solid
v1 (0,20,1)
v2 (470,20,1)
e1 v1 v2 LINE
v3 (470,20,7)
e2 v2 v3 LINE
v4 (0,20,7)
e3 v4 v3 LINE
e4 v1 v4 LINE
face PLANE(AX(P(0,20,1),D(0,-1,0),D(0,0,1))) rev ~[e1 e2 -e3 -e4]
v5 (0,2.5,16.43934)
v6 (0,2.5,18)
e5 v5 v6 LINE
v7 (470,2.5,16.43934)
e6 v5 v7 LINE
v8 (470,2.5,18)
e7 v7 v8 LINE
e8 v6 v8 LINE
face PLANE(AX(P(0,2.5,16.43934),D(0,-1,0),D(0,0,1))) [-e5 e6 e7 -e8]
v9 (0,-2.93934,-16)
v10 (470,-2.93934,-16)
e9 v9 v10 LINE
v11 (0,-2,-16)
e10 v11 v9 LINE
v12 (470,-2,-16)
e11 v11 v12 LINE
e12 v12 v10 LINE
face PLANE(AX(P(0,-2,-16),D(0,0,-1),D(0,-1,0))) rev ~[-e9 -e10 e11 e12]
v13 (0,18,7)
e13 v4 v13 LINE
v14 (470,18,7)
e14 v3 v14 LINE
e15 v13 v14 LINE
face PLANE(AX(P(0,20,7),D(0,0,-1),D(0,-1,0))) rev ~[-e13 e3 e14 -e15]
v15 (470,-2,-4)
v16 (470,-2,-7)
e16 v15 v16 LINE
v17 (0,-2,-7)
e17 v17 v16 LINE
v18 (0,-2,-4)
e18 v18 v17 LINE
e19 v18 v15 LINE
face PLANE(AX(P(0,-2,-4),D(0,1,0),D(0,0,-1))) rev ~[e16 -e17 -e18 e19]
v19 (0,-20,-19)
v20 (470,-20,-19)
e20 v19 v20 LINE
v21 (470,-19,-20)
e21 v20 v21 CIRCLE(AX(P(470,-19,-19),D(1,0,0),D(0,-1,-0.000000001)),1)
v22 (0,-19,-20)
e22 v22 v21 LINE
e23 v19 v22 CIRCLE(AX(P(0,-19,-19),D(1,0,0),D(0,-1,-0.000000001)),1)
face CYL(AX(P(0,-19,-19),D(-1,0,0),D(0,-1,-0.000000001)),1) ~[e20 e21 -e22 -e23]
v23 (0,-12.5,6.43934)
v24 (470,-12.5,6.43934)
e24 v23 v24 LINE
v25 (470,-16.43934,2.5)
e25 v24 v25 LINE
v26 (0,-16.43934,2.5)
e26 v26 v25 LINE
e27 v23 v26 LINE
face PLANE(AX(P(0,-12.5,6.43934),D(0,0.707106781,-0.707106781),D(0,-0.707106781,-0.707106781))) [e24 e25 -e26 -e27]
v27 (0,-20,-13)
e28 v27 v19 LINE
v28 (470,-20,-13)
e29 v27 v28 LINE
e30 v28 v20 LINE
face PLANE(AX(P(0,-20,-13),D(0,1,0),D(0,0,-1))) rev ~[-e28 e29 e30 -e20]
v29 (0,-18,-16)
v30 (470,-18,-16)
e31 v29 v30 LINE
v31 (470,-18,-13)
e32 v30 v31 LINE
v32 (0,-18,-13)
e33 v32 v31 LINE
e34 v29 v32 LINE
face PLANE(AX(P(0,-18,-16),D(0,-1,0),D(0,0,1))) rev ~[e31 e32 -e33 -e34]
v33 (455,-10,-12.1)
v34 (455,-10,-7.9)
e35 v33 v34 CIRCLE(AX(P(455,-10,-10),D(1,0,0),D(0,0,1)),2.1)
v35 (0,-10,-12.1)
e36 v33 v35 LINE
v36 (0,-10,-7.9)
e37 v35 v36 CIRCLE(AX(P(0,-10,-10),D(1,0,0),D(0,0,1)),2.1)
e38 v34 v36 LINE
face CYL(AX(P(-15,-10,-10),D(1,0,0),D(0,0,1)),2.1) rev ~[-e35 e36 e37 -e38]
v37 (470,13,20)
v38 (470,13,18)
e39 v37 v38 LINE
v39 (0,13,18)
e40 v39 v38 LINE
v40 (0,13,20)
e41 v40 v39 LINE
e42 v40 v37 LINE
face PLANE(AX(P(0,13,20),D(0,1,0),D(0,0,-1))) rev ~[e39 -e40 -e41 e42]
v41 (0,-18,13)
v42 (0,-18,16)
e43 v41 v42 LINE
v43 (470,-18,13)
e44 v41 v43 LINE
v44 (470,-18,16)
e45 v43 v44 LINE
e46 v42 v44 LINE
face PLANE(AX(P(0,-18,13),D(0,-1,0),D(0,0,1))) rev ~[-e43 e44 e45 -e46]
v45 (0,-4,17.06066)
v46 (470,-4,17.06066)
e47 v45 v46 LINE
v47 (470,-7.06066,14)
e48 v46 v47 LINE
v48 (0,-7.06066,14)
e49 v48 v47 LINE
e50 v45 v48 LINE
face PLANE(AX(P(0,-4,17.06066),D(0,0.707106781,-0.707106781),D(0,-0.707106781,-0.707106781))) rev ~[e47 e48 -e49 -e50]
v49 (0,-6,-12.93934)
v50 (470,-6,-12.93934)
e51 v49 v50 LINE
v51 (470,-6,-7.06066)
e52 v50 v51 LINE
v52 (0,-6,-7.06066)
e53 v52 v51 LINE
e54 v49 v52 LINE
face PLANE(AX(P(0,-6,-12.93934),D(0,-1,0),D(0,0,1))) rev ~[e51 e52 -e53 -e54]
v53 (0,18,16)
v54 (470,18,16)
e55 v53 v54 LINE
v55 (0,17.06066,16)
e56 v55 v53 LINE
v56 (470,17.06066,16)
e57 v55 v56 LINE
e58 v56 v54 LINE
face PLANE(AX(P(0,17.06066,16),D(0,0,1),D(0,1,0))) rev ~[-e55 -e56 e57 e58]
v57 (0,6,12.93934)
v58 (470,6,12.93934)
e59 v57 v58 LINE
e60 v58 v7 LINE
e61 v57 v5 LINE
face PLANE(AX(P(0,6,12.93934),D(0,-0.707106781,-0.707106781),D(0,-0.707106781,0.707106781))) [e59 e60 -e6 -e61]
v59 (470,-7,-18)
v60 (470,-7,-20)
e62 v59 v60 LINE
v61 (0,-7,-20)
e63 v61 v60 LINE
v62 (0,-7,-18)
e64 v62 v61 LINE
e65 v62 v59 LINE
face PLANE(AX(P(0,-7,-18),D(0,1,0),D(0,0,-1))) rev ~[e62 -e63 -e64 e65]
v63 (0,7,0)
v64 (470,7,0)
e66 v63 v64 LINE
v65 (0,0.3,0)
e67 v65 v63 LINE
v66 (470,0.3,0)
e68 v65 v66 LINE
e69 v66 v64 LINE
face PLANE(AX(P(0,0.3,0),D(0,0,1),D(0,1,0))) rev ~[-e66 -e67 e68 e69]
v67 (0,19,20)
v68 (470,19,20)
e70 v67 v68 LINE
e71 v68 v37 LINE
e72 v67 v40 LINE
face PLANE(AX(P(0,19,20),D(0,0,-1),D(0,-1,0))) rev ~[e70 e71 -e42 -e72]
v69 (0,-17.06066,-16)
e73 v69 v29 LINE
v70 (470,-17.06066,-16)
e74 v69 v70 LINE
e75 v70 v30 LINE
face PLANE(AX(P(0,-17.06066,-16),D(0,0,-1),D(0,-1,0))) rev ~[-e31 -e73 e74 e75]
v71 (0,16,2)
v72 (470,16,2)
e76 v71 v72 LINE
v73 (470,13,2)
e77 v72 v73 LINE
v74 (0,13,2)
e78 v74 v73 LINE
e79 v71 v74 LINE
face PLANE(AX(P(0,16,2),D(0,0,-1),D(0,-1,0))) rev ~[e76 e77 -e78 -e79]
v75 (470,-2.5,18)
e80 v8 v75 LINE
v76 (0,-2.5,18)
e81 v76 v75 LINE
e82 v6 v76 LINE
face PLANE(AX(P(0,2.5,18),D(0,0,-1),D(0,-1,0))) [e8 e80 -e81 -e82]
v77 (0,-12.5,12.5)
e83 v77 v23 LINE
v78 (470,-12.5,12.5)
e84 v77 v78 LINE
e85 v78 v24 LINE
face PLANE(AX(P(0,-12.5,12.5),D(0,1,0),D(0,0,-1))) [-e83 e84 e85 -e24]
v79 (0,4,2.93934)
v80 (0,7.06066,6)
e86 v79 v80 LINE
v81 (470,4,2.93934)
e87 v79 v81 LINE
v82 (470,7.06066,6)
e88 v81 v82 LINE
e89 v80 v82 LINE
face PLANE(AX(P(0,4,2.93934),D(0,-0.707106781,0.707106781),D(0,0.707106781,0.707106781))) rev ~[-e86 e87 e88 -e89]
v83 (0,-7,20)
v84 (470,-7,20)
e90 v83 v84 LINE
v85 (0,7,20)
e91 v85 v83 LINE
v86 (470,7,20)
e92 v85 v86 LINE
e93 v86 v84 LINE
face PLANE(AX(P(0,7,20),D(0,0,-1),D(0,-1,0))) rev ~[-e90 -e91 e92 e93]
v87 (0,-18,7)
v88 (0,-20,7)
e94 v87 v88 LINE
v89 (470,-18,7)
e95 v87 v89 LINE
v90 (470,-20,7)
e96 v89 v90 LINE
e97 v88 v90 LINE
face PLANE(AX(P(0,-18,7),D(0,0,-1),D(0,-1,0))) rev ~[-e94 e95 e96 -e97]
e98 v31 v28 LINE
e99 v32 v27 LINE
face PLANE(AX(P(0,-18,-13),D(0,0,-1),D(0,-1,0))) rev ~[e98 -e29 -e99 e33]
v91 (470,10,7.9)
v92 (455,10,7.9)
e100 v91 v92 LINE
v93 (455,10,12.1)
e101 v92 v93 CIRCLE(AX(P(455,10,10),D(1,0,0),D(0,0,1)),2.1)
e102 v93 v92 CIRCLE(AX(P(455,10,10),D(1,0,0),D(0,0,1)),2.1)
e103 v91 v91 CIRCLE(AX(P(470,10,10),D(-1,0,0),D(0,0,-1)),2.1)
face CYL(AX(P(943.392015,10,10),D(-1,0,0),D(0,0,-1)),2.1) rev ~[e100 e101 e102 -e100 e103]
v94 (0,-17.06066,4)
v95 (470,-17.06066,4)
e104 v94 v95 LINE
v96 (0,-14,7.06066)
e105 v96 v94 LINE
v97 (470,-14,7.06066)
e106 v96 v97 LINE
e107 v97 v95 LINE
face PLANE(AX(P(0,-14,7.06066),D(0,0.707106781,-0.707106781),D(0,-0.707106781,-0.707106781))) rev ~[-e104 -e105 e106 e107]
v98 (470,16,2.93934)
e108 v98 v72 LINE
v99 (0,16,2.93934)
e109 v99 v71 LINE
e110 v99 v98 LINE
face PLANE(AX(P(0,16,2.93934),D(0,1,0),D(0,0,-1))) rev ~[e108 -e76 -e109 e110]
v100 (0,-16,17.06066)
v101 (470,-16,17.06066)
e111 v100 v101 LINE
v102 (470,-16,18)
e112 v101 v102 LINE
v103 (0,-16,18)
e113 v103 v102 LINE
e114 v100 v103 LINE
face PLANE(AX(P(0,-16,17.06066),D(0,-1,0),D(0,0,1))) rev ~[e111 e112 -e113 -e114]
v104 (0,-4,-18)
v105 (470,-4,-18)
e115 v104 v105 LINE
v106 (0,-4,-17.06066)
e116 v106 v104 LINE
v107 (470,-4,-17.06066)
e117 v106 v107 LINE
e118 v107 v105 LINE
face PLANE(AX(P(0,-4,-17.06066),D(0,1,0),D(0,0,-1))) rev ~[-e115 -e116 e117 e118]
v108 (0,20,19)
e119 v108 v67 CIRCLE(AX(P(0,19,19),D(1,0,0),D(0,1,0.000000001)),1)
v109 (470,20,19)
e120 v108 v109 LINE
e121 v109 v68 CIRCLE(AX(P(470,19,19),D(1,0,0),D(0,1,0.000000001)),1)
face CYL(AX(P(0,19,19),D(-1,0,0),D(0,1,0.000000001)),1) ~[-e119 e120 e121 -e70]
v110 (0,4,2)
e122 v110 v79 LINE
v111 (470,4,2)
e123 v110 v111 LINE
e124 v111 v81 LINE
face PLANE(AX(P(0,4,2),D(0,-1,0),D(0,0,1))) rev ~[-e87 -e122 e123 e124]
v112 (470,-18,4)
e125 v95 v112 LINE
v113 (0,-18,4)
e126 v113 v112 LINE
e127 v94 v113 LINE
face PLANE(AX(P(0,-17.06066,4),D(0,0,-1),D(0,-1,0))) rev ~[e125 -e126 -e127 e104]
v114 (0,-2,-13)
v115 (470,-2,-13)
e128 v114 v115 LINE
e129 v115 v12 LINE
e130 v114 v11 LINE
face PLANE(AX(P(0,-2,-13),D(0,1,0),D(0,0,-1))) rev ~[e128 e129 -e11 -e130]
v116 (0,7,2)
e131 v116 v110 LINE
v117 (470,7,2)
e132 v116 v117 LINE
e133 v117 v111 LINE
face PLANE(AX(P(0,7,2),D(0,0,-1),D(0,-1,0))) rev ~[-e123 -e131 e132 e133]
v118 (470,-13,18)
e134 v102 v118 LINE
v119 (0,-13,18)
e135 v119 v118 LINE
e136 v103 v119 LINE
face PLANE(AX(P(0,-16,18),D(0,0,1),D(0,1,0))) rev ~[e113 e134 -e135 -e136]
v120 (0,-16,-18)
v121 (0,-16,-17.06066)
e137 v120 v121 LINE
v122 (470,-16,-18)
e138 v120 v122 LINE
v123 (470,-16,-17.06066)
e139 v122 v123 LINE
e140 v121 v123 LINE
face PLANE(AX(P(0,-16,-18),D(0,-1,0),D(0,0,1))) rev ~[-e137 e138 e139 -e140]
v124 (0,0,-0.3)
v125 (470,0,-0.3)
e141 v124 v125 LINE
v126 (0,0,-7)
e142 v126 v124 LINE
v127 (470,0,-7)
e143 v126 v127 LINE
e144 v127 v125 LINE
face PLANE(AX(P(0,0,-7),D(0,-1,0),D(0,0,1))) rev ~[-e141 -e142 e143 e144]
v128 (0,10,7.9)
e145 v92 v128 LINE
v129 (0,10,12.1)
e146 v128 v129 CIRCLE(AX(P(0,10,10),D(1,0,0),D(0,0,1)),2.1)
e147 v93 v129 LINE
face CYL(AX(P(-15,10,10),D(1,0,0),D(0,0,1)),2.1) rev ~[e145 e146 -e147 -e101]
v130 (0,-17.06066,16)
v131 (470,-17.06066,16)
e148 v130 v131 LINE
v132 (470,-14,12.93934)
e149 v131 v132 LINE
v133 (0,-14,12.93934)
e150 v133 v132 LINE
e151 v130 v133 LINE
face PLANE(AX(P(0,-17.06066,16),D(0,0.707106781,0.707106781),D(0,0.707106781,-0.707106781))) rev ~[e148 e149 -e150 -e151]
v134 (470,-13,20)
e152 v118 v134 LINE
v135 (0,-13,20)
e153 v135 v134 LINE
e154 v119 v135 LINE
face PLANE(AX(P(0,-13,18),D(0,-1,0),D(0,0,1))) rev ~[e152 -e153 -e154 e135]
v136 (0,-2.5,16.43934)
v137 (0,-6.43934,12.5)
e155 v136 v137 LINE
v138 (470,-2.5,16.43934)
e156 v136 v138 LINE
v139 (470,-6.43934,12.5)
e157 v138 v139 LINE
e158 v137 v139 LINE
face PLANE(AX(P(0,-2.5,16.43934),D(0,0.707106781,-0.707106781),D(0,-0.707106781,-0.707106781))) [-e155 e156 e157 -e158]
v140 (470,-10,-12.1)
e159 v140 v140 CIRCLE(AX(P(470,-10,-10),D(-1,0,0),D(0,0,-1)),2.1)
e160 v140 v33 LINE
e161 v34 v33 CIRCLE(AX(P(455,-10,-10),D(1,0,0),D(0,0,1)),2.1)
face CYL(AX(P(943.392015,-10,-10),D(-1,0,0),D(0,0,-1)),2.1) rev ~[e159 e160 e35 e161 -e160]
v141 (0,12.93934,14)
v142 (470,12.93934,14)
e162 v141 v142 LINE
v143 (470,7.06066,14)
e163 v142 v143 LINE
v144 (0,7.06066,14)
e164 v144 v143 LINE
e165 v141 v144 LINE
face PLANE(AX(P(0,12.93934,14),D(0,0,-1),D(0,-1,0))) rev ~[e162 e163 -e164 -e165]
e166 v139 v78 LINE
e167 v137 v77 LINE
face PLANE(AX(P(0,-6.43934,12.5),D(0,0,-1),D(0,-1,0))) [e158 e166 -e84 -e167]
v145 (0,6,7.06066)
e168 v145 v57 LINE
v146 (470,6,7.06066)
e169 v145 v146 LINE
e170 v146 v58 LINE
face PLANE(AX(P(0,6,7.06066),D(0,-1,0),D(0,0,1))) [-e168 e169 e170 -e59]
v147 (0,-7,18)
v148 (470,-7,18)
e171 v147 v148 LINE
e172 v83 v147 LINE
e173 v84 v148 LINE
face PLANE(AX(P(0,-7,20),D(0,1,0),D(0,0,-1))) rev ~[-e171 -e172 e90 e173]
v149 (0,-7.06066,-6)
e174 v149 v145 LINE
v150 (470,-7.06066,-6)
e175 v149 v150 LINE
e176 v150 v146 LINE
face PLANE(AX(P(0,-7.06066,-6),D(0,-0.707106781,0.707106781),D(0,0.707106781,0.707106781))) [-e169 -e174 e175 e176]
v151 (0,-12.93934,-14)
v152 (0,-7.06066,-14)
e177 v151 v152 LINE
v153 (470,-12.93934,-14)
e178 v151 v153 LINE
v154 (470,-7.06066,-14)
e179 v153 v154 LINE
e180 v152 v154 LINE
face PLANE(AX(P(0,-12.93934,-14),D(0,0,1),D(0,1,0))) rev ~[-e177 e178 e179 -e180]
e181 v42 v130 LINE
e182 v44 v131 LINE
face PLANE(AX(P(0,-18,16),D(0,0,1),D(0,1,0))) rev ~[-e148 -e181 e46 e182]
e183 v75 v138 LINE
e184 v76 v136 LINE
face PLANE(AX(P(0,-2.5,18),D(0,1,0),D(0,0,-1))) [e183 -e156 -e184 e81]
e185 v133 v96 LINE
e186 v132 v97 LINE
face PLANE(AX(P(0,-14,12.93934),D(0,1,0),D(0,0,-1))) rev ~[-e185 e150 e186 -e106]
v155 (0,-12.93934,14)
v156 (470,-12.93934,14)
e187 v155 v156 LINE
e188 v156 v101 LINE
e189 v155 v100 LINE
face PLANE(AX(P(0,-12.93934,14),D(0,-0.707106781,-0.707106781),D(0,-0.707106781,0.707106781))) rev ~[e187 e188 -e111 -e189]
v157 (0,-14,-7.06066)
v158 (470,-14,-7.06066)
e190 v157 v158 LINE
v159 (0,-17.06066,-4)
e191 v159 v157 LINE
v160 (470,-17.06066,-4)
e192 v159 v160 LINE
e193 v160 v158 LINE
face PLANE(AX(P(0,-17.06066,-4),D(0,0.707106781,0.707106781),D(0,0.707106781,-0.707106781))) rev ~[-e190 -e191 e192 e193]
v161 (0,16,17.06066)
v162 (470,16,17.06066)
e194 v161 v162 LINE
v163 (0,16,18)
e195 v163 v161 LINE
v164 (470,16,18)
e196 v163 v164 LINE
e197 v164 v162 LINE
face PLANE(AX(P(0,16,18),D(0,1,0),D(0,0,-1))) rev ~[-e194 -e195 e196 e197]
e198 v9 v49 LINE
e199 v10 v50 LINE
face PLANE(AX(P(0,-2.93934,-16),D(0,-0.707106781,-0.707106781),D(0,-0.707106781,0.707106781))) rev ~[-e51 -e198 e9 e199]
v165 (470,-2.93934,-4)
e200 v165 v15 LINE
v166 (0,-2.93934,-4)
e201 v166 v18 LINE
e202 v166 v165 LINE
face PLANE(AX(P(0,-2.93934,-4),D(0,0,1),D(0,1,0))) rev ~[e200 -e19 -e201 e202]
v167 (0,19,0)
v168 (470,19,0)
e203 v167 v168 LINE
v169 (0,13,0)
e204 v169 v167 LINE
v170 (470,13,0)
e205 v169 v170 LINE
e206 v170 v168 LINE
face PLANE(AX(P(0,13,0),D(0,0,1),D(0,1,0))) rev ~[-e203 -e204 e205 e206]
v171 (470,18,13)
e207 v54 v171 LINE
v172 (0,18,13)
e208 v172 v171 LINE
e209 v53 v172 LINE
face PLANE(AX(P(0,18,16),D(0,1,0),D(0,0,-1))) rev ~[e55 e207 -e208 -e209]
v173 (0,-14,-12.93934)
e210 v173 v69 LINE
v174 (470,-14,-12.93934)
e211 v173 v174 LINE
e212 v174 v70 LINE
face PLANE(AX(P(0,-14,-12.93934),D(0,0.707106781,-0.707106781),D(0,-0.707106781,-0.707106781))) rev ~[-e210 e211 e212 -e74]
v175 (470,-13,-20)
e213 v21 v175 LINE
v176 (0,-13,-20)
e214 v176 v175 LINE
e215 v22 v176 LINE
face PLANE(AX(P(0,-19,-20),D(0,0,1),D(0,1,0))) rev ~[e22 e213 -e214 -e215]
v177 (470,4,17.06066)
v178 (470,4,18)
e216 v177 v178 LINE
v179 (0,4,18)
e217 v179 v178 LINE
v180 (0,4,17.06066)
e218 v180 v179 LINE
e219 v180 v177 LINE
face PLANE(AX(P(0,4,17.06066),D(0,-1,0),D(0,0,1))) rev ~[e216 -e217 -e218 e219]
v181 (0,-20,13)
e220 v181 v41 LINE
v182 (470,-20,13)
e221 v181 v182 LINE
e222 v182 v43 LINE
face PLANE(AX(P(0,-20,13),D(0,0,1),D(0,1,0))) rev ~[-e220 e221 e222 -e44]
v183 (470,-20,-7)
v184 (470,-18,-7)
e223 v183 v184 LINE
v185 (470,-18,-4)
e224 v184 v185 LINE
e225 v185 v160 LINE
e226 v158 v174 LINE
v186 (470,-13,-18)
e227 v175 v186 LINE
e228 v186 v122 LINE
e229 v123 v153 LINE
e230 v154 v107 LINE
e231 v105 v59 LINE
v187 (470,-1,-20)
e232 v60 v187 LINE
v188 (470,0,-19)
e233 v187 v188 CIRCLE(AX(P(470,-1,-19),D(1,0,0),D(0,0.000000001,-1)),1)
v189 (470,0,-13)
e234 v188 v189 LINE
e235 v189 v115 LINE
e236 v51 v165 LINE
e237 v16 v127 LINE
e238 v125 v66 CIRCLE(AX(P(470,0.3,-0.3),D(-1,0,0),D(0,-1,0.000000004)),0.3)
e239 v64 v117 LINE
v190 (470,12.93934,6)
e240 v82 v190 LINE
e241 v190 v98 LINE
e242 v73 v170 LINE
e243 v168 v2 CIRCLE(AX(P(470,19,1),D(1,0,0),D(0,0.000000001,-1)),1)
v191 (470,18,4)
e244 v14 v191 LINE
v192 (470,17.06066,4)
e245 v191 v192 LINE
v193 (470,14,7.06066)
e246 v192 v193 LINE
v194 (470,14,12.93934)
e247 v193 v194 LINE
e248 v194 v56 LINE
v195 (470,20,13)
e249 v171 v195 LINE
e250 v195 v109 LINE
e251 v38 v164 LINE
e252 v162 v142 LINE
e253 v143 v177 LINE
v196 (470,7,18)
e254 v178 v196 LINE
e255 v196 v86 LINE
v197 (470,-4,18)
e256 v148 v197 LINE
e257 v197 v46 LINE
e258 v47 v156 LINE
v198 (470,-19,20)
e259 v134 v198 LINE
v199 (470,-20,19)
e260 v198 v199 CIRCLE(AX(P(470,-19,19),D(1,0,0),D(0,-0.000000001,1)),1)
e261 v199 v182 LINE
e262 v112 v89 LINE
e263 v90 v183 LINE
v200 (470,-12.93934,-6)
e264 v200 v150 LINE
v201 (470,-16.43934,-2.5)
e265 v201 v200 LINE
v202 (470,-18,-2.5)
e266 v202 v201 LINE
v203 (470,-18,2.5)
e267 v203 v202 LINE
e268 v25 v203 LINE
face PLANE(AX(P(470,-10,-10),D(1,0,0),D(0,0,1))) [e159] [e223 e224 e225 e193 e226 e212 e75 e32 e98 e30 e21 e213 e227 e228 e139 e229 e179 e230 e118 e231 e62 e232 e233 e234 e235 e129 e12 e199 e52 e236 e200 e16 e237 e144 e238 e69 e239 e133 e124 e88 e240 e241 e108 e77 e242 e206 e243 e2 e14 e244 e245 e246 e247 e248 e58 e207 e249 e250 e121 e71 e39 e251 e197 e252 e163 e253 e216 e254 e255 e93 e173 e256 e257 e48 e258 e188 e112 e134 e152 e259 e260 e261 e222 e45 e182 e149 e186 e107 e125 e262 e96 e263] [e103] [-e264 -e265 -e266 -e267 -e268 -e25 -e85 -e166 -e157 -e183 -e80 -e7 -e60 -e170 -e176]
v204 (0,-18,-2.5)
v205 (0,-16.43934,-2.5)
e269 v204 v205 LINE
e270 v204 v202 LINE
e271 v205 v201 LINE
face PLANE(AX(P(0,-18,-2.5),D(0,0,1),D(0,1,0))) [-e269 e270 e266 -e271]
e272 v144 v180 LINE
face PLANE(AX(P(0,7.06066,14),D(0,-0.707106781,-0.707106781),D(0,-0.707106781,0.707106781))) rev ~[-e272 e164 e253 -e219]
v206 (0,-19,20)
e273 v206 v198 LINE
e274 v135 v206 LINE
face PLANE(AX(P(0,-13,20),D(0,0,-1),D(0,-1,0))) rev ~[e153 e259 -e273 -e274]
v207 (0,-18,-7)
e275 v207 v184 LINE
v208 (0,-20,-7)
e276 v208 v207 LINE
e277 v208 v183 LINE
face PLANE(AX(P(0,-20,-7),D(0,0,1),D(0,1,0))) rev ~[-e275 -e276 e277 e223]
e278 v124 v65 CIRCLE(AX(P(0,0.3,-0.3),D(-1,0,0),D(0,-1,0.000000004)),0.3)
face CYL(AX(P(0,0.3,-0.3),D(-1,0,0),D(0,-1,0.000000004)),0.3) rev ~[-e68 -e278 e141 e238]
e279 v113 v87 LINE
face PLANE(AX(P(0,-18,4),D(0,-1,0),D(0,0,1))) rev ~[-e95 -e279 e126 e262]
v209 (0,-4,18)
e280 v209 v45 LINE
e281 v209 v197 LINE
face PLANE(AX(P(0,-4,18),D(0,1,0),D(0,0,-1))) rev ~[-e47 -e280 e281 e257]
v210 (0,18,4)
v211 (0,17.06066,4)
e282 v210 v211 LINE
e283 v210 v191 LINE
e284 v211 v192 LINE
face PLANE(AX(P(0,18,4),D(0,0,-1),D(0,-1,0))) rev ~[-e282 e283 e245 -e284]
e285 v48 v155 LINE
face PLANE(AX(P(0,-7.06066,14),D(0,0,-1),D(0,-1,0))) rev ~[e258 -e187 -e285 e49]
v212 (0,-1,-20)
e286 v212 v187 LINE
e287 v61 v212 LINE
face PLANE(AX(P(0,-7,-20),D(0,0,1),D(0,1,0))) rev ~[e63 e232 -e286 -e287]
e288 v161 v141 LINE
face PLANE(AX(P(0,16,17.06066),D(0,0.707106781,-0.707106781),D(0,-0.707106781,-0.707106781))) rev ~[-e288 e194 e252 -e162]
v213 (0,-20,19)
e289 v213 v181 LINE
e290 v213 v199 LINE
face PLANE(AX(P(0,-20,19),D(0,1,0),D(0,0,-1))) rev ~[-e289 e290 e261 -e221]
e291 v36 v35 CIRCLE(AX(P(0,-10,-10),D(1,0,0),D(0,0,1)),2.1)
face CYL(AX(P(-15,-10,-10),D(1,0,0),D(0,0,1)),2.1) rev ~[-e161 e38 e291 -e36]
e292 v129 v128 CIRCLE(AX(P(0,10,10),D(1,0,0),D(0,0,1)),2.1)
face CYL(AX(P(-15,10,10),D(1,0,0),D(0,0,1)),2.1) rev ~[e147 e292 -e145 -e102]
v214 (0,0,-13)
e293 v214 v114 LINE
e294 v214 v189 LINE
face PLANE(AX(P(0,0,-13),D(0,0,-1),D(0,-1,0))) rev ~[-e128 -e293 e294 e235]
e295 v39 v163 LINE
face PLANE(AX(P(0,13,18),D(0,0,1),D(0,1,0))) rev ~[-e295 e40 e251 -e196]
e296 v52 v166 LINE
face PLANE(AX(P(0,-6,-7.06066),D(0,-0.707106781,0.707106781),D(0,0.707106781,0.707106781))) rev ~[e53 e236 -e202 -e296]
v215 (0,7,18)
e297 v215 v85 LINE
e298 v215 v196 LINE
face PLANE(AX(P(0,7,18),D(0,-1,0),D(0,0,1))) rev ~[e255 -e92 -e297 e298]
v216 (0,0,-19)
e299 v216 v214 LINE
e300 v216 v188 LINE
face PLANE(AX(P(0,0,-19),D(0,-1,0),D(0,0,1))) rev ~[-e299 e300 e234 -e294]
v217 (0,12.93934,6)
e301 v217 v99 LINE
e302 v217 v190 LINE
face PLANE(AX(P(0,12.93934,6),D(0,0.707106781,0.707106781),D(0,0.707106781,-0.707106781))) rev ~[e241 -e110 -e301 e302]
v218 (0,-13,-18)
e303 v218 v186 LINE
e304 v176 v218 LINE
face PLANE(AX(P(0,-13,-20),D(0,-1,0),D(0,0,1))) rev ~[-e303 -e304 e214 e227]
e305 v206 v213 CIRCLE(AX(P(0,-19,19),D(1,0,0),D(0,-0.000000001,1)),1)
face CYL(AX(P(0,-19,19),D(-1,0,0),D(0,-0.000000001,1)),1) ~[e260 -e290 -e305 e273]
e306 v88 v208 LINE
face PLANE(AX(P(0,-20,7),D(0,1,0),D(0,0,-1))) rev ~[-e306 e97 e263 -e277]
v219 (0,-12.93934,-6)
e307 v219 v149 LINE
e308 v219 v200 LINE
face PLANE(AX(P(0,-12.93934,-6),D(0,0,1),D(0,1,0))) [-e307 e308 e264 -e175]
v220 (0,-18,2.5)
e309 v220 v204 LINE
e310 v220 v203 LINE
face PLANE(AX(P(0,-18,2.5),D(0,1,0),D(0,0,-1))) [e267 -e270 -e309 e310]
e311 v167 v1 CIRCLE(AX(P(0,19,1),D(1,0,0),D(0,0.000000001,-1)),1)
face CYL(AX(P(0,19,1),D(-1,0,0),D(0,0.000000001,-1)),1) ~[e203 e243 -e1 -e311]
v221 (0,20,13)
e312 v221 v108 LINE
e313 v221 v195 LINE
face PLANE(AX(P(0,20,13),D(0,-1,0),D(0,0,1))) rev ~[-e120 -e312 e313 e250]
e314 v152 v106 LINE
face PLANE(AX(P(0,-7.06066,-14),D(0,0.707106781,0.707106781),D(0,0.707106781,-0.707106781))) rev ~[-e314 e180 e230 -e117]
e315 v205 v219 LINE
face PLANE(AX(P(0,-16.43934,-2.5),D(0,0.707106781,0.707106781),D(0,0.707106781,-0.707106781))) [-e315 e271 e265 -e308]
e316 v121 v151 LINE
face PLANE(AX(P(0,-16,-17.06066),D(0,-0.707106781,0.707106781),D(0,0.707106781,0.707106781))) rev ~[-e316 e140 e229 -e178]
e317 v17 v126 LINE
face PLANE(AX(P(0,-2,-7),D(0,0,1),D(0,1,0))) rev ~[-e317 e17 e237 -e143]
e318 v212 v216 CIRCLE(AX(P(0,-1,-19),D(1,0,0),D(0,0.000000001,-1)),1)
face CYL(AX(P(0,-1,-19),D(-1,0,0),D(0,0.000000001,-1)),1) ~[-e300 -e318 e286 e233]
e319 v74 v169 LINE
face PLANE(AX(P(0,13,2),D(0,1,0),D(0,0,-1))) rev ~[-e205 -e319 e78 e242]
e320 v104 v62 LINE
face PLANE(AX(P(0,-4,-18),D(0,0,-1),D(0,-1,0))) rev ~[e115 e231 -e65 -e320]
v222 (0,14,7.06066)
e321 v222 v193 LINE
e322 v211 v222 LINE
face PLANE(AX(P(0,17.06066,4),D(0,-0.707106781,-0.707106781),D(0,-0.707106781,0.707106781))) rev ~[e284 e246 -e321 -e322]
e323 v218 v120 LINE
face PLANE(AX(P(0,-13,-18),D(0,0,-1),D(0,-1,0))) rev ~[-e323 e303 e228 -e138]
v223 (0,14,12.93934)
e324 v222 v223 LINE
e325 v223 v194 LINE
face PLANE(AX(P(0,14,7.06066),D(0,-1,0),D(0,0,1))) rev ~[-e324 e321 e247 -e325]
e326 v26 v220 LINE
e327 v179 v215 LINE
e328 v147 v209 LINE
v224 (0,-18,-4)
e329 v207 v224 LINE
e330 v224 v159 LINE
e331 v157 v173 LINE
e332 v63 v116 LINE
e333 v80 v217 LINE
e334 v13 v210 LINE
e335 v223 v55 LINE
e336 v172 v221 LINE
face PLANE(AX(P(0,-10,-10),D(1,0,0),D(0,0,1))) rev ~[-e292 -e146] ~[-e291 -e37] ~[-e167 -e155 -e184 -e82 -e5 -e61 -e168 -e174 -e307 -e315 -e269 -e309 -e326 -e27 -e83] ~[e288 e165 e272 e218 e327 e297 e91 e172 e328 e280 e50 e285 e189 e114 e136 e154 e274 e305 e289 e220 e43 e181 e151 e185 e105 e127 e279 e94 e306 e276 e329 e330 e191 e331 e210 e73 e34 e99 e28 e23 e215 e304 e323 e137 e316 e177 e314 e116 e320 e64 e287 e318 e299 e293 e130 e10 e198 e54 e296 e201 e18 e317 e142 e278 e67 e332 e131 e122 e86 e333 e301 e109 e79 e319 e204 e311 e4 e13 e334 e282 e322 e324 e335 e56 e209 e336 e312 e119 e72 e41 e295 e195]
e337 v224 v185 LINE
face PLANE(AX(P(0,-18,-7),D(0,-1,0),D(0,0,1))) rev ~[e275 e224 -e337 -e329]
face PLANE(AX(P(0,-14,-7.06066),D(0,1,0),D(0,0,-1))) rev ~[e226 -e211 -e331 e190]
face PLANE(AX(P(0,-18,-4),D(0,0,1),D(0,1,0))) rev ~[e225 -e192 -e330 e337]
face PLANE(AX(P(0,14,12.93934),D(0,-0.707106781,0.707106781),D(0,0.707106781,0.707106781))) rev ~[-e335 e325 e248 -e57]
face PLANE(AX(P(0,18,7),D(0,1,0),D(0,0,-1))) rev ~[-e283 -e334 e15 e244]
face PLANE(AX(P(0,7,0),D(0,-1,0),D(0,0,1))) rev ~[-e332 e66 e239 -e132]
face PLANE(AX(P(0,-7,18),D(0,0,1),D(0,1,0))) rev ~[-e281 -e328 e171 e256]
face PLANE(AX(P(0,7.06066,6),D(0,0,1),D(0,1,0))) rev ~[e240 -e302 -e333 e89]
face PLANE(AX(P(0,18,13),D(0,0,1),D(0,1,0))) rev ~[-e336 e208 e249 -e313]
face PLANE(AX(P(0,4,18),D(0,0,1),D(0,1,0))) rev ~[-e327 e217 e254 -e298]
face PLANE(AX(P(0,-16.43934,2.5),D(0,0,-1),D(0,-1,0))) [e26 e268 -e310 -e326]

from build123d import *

# Parameters (mm, degrees)
SKETCH1_R           = 2.1
BOSS_EXTRUDE1_DEPTH = 470
SKETCH10_R          = 2.1
BOSS_EXTRUDE4_DEPTH = 15
BOSS_EXTRUDE5_START = -15
SKETCH11_R          = 2.1
BOSS_EXTRUDE5_DEPTH = 15
TAPPED_HOLE3_D      = 4.2
TAPPED_HOLE3_DEPTH  = 15
TAPPED_HOLE4_D      = 4.2


with BuildPart() as part:
    # Sketch1 → Boss-Extrude1 (new body)
    with BuildSketch(Plane(origin=(0, 0, 0), x_dir=(0, 0, -1), z_dir=(1, 0, 0))):
        with BuildLine():
            Line((-13, 18), (-13, 20))
            Line((-13, 20), (-19, 20))
            ThreePointArc((-19, 20), (-19.707106781, 19.707106781), (-20, 19))
            Line((-20, 19), (-20, 13))
            Line((-20, 13), (-18, 13))
            Line((-18, 13), (-18, 16))
            Line((-18, 16), (-17.060660172, 16))
            Line((-17.060660172, 16), (-14, 12.939339828))
            Line((-14, 12.939339828), (-14, 7.060660172))
            Line((-14, 7.060660172), (-17.060660172, 4))
            Line((-17.060660172, 4), (-18, 4))
            Line((-18, 4), (-18, 7))
            Line((-18, 7), (-20, 7))
            Line((-20, 7), (-20, -7))
            Line((-20, -7), (-18, -7))
            Line((-18, -7), (-18, -4))
            Line((-18, -4), (-17.060660172, -4))
            Line((-17.060660172, -4), (-14, -7.060660172))
            Line((-14, -7.060660172), (-14, -12.939339828))
            Line((-14, -12.939339828), (-17.060660172, -16))
            Line((-17.060660172, -16), (-18, -16))
            Line((-18, -16), (-18, -13))
            Line((-18, -13), (-20, -13))
            Line((-20, -13), (-20, -19))
            ThreePointArc((-20, -19), (-19.707106781, -19.707106781), (-19, -20))
            Line((-19, -20), (-13, -20))
            Line((-13, -20), (-13, -18))
            Line((-13, -18), (-16, -18))
            Line((-16, -18), (-16, -17.060660172))
            Line((-16, -17.060660172), (-12.939339828, -14))
            Line((-12.939339828, -14), (-7.060660172, -14))
            Line((-7.060660172, -14), (-4, -17.060660172))
            Line((-4, -17.060660172), (-4, -18))
            Line((-4, -18), (-7, -18))
            Line((-7, -18), (-7, -20))
            Line((-7, -20), (7, -20))
            Line((7, -20), (7, -18))
            Line((7, -18), (4, -18))
            Line((4, -18), (4, -17.060660172))
            Line((4, -17.060660172), (7.060660172, -14))
            Line((7.060660172, -14), (12.939339828, -14))
            Line((12.939339828, -14), (16, -17.060660172))
            Line((16, -17.060660172), (16, -18))
            Line((16, -18), (13, -18))
            Line((13, -18), (13, -20))
            Line((13, -20), (19, -20))
            ThreePointArc((19, -20), (19.707106781, -19.707106781), (20, -19))
            Line((20, -19), (20, -13))
            Line((20, -13), (18, -13))
            Line((18, -13), (18, -16))
            Line((18, -16), (17.060660172, -16))
            Line((17.060660172, -16), (14, -12.939339828))
            Line((14, -12.939339828), (14, -7.060660172))
            Line((14, -7.060660172), (17.060660172, -4))
            Line((17.060660172, -4), (18, -4))
            Line((18, -4), (18, -7))
            Line((18, -7), (20, -7))
            Line((20, -7), (20, -1))
            ThreePointArc((20, -1), (19.707106781, -0.292893219), (19, 0))
            Line((19, 0), (13, 0))
            Line((13, 0), (13, -2))
            Line((13, -2), (16, -2))
            Line((16, -2), (16, -2.939339828))
            Line((16, -2.939339828), (12.939339828, -6))
            Line((12.939339828, -6), (7.060660172, -6))
            Line((7.060660172, -6), (4, -2.939339828))
            Line((4, -2.939339828), (4, -2))
            Line((4, -2), (7, -2))
            Line((7, -2), (7, 0))
            Line((7, 0), (0.3, 0))
            ThreePointArc((0.3, 0), (0.087867966, 0.087867966), (0, 0.3))
            Line((0, 0.3), (0, 7))
            Line((0, 7), (-2, 7))
            Line((-2, 7), (-2, 4))
            Line((-2, 4), (-2.939339828, 4))
            Line((-2.939339828, 4), (-6, 7.060660172))
            Line((-6, 7.060660172), (-6, 12.939339828))
            Line((-6, 12.939339828), (-2.939339828, 16))
            Line((-2.939339828, 16), (-2, 16))
            Line((-2, 16), (-2, 13))
            Line((-2, 13), (0, 13))
            Line((0, 13), (0, 19))
            ThreePointArc((0, 19), (-0.292893219, 19.707106781), (-1, 20))
            Line((-1, 20), (-7, 20))
            Line((-7, 20), (-7, 18))
            Line((-7, 18), (-4, 18))
            Line((-4, 18), (-4, 17.060660172))
            Line((-4, 17.060660172), (-7.060660172, 14))
            Line((-7.060660172, 14), (-12.939339828, 14))
            Line((-12.939339828, 14), (-16, 17.060660172))
            Line((-16, 17.060660172), (-16, 18))
            Line((-16, 18), (-13, 18))
        make_face()
        with Locations(Location((10, -10, 0), (0, 0, 180))):
            Circle(SKETCH1_R, mode=Mode.SUBTRACT)
        with Locations(Location((-10, 10, 0), (0, 0, 180))):
            Circle(SKETCH1_R, mode=Mode.SUBTRACT)
        Polygon((6, -7.060660172), (-7.060660172, 6), (-12.939339828, 6), (-16.439339828, 2.5), (-18, 2.5), (-18, -2.5), (-16.439339828, -2.5), (-12.5, -6.439339828), (-12.5, -12.5), (-6.439339828, -12.5), (-2.5, -16.439339828), (-2.5, -18), (2.5, -18), (2.5, -16.439339828), (6, -12.939339828), align=None, mode=Mode.SUBTRACT)
    extrude(amount=BOSS_EXTRUDE1_DEPTH)

    # Sketch10 → Boss-Extrude4 (add)
    with BuildSketch(Plane(origin=(0, 0, 0), x_dir=(0, 0, -1), z_dir=(1, 0, 0))):
        with Locations(Location((10, -10, 0), (0, 0, 180))):
            Circle(SKETCH10_R)
        with Locations(Location((-10, 10, 0), (0, 0, 180))):
            Circle(SKETCH10_R)
    extrude(amount=BOSS_EXTRUDE4_DEPTH)

    # Sketch11 → Boss-Extrude5 (add)
    with BuildSketch(Plane(origin=(470, 0, 0), x_dir=(0, 0, -1), z_dir=(1, 0, 0)).offset(BOSS_EXTRUDE5_START)):
        with Locations(Location((10, -10, 0), (0, 0, 180))):
            Circle(SKETCH11_R)
        with Locations(Location((-10, 10, 0), (0, 0, 180))):
            Circle(SKETCH11_R)
    extrude(amount=BOSS_EXTRUDE5_DEPTH)

    # Tapped Hole3
    with Locations(Plane(origin=(0, 0, 42.543082138), x_dir=(0, 0, -1), z_dir=(-1, 0, 0))):
        with Locations((52.543082138, 10), (32.543082138, -10)):
            Hole(TAPPED_HOLE3_D / 2, depth=TAPPED_HOLE3_DEPTH)

    # Tapped Hole4 (through all)
    with Locations(Plane(origin=(470, 0, -41.216277394), x_dir=(0, 0, 1), z_dir=(1, 0, 0))):
        with Locations((51.216277394, -10), (31.216277394, 10)):
            Hole(TAPPED_HOLE4_D / 2)


solid = part.part
